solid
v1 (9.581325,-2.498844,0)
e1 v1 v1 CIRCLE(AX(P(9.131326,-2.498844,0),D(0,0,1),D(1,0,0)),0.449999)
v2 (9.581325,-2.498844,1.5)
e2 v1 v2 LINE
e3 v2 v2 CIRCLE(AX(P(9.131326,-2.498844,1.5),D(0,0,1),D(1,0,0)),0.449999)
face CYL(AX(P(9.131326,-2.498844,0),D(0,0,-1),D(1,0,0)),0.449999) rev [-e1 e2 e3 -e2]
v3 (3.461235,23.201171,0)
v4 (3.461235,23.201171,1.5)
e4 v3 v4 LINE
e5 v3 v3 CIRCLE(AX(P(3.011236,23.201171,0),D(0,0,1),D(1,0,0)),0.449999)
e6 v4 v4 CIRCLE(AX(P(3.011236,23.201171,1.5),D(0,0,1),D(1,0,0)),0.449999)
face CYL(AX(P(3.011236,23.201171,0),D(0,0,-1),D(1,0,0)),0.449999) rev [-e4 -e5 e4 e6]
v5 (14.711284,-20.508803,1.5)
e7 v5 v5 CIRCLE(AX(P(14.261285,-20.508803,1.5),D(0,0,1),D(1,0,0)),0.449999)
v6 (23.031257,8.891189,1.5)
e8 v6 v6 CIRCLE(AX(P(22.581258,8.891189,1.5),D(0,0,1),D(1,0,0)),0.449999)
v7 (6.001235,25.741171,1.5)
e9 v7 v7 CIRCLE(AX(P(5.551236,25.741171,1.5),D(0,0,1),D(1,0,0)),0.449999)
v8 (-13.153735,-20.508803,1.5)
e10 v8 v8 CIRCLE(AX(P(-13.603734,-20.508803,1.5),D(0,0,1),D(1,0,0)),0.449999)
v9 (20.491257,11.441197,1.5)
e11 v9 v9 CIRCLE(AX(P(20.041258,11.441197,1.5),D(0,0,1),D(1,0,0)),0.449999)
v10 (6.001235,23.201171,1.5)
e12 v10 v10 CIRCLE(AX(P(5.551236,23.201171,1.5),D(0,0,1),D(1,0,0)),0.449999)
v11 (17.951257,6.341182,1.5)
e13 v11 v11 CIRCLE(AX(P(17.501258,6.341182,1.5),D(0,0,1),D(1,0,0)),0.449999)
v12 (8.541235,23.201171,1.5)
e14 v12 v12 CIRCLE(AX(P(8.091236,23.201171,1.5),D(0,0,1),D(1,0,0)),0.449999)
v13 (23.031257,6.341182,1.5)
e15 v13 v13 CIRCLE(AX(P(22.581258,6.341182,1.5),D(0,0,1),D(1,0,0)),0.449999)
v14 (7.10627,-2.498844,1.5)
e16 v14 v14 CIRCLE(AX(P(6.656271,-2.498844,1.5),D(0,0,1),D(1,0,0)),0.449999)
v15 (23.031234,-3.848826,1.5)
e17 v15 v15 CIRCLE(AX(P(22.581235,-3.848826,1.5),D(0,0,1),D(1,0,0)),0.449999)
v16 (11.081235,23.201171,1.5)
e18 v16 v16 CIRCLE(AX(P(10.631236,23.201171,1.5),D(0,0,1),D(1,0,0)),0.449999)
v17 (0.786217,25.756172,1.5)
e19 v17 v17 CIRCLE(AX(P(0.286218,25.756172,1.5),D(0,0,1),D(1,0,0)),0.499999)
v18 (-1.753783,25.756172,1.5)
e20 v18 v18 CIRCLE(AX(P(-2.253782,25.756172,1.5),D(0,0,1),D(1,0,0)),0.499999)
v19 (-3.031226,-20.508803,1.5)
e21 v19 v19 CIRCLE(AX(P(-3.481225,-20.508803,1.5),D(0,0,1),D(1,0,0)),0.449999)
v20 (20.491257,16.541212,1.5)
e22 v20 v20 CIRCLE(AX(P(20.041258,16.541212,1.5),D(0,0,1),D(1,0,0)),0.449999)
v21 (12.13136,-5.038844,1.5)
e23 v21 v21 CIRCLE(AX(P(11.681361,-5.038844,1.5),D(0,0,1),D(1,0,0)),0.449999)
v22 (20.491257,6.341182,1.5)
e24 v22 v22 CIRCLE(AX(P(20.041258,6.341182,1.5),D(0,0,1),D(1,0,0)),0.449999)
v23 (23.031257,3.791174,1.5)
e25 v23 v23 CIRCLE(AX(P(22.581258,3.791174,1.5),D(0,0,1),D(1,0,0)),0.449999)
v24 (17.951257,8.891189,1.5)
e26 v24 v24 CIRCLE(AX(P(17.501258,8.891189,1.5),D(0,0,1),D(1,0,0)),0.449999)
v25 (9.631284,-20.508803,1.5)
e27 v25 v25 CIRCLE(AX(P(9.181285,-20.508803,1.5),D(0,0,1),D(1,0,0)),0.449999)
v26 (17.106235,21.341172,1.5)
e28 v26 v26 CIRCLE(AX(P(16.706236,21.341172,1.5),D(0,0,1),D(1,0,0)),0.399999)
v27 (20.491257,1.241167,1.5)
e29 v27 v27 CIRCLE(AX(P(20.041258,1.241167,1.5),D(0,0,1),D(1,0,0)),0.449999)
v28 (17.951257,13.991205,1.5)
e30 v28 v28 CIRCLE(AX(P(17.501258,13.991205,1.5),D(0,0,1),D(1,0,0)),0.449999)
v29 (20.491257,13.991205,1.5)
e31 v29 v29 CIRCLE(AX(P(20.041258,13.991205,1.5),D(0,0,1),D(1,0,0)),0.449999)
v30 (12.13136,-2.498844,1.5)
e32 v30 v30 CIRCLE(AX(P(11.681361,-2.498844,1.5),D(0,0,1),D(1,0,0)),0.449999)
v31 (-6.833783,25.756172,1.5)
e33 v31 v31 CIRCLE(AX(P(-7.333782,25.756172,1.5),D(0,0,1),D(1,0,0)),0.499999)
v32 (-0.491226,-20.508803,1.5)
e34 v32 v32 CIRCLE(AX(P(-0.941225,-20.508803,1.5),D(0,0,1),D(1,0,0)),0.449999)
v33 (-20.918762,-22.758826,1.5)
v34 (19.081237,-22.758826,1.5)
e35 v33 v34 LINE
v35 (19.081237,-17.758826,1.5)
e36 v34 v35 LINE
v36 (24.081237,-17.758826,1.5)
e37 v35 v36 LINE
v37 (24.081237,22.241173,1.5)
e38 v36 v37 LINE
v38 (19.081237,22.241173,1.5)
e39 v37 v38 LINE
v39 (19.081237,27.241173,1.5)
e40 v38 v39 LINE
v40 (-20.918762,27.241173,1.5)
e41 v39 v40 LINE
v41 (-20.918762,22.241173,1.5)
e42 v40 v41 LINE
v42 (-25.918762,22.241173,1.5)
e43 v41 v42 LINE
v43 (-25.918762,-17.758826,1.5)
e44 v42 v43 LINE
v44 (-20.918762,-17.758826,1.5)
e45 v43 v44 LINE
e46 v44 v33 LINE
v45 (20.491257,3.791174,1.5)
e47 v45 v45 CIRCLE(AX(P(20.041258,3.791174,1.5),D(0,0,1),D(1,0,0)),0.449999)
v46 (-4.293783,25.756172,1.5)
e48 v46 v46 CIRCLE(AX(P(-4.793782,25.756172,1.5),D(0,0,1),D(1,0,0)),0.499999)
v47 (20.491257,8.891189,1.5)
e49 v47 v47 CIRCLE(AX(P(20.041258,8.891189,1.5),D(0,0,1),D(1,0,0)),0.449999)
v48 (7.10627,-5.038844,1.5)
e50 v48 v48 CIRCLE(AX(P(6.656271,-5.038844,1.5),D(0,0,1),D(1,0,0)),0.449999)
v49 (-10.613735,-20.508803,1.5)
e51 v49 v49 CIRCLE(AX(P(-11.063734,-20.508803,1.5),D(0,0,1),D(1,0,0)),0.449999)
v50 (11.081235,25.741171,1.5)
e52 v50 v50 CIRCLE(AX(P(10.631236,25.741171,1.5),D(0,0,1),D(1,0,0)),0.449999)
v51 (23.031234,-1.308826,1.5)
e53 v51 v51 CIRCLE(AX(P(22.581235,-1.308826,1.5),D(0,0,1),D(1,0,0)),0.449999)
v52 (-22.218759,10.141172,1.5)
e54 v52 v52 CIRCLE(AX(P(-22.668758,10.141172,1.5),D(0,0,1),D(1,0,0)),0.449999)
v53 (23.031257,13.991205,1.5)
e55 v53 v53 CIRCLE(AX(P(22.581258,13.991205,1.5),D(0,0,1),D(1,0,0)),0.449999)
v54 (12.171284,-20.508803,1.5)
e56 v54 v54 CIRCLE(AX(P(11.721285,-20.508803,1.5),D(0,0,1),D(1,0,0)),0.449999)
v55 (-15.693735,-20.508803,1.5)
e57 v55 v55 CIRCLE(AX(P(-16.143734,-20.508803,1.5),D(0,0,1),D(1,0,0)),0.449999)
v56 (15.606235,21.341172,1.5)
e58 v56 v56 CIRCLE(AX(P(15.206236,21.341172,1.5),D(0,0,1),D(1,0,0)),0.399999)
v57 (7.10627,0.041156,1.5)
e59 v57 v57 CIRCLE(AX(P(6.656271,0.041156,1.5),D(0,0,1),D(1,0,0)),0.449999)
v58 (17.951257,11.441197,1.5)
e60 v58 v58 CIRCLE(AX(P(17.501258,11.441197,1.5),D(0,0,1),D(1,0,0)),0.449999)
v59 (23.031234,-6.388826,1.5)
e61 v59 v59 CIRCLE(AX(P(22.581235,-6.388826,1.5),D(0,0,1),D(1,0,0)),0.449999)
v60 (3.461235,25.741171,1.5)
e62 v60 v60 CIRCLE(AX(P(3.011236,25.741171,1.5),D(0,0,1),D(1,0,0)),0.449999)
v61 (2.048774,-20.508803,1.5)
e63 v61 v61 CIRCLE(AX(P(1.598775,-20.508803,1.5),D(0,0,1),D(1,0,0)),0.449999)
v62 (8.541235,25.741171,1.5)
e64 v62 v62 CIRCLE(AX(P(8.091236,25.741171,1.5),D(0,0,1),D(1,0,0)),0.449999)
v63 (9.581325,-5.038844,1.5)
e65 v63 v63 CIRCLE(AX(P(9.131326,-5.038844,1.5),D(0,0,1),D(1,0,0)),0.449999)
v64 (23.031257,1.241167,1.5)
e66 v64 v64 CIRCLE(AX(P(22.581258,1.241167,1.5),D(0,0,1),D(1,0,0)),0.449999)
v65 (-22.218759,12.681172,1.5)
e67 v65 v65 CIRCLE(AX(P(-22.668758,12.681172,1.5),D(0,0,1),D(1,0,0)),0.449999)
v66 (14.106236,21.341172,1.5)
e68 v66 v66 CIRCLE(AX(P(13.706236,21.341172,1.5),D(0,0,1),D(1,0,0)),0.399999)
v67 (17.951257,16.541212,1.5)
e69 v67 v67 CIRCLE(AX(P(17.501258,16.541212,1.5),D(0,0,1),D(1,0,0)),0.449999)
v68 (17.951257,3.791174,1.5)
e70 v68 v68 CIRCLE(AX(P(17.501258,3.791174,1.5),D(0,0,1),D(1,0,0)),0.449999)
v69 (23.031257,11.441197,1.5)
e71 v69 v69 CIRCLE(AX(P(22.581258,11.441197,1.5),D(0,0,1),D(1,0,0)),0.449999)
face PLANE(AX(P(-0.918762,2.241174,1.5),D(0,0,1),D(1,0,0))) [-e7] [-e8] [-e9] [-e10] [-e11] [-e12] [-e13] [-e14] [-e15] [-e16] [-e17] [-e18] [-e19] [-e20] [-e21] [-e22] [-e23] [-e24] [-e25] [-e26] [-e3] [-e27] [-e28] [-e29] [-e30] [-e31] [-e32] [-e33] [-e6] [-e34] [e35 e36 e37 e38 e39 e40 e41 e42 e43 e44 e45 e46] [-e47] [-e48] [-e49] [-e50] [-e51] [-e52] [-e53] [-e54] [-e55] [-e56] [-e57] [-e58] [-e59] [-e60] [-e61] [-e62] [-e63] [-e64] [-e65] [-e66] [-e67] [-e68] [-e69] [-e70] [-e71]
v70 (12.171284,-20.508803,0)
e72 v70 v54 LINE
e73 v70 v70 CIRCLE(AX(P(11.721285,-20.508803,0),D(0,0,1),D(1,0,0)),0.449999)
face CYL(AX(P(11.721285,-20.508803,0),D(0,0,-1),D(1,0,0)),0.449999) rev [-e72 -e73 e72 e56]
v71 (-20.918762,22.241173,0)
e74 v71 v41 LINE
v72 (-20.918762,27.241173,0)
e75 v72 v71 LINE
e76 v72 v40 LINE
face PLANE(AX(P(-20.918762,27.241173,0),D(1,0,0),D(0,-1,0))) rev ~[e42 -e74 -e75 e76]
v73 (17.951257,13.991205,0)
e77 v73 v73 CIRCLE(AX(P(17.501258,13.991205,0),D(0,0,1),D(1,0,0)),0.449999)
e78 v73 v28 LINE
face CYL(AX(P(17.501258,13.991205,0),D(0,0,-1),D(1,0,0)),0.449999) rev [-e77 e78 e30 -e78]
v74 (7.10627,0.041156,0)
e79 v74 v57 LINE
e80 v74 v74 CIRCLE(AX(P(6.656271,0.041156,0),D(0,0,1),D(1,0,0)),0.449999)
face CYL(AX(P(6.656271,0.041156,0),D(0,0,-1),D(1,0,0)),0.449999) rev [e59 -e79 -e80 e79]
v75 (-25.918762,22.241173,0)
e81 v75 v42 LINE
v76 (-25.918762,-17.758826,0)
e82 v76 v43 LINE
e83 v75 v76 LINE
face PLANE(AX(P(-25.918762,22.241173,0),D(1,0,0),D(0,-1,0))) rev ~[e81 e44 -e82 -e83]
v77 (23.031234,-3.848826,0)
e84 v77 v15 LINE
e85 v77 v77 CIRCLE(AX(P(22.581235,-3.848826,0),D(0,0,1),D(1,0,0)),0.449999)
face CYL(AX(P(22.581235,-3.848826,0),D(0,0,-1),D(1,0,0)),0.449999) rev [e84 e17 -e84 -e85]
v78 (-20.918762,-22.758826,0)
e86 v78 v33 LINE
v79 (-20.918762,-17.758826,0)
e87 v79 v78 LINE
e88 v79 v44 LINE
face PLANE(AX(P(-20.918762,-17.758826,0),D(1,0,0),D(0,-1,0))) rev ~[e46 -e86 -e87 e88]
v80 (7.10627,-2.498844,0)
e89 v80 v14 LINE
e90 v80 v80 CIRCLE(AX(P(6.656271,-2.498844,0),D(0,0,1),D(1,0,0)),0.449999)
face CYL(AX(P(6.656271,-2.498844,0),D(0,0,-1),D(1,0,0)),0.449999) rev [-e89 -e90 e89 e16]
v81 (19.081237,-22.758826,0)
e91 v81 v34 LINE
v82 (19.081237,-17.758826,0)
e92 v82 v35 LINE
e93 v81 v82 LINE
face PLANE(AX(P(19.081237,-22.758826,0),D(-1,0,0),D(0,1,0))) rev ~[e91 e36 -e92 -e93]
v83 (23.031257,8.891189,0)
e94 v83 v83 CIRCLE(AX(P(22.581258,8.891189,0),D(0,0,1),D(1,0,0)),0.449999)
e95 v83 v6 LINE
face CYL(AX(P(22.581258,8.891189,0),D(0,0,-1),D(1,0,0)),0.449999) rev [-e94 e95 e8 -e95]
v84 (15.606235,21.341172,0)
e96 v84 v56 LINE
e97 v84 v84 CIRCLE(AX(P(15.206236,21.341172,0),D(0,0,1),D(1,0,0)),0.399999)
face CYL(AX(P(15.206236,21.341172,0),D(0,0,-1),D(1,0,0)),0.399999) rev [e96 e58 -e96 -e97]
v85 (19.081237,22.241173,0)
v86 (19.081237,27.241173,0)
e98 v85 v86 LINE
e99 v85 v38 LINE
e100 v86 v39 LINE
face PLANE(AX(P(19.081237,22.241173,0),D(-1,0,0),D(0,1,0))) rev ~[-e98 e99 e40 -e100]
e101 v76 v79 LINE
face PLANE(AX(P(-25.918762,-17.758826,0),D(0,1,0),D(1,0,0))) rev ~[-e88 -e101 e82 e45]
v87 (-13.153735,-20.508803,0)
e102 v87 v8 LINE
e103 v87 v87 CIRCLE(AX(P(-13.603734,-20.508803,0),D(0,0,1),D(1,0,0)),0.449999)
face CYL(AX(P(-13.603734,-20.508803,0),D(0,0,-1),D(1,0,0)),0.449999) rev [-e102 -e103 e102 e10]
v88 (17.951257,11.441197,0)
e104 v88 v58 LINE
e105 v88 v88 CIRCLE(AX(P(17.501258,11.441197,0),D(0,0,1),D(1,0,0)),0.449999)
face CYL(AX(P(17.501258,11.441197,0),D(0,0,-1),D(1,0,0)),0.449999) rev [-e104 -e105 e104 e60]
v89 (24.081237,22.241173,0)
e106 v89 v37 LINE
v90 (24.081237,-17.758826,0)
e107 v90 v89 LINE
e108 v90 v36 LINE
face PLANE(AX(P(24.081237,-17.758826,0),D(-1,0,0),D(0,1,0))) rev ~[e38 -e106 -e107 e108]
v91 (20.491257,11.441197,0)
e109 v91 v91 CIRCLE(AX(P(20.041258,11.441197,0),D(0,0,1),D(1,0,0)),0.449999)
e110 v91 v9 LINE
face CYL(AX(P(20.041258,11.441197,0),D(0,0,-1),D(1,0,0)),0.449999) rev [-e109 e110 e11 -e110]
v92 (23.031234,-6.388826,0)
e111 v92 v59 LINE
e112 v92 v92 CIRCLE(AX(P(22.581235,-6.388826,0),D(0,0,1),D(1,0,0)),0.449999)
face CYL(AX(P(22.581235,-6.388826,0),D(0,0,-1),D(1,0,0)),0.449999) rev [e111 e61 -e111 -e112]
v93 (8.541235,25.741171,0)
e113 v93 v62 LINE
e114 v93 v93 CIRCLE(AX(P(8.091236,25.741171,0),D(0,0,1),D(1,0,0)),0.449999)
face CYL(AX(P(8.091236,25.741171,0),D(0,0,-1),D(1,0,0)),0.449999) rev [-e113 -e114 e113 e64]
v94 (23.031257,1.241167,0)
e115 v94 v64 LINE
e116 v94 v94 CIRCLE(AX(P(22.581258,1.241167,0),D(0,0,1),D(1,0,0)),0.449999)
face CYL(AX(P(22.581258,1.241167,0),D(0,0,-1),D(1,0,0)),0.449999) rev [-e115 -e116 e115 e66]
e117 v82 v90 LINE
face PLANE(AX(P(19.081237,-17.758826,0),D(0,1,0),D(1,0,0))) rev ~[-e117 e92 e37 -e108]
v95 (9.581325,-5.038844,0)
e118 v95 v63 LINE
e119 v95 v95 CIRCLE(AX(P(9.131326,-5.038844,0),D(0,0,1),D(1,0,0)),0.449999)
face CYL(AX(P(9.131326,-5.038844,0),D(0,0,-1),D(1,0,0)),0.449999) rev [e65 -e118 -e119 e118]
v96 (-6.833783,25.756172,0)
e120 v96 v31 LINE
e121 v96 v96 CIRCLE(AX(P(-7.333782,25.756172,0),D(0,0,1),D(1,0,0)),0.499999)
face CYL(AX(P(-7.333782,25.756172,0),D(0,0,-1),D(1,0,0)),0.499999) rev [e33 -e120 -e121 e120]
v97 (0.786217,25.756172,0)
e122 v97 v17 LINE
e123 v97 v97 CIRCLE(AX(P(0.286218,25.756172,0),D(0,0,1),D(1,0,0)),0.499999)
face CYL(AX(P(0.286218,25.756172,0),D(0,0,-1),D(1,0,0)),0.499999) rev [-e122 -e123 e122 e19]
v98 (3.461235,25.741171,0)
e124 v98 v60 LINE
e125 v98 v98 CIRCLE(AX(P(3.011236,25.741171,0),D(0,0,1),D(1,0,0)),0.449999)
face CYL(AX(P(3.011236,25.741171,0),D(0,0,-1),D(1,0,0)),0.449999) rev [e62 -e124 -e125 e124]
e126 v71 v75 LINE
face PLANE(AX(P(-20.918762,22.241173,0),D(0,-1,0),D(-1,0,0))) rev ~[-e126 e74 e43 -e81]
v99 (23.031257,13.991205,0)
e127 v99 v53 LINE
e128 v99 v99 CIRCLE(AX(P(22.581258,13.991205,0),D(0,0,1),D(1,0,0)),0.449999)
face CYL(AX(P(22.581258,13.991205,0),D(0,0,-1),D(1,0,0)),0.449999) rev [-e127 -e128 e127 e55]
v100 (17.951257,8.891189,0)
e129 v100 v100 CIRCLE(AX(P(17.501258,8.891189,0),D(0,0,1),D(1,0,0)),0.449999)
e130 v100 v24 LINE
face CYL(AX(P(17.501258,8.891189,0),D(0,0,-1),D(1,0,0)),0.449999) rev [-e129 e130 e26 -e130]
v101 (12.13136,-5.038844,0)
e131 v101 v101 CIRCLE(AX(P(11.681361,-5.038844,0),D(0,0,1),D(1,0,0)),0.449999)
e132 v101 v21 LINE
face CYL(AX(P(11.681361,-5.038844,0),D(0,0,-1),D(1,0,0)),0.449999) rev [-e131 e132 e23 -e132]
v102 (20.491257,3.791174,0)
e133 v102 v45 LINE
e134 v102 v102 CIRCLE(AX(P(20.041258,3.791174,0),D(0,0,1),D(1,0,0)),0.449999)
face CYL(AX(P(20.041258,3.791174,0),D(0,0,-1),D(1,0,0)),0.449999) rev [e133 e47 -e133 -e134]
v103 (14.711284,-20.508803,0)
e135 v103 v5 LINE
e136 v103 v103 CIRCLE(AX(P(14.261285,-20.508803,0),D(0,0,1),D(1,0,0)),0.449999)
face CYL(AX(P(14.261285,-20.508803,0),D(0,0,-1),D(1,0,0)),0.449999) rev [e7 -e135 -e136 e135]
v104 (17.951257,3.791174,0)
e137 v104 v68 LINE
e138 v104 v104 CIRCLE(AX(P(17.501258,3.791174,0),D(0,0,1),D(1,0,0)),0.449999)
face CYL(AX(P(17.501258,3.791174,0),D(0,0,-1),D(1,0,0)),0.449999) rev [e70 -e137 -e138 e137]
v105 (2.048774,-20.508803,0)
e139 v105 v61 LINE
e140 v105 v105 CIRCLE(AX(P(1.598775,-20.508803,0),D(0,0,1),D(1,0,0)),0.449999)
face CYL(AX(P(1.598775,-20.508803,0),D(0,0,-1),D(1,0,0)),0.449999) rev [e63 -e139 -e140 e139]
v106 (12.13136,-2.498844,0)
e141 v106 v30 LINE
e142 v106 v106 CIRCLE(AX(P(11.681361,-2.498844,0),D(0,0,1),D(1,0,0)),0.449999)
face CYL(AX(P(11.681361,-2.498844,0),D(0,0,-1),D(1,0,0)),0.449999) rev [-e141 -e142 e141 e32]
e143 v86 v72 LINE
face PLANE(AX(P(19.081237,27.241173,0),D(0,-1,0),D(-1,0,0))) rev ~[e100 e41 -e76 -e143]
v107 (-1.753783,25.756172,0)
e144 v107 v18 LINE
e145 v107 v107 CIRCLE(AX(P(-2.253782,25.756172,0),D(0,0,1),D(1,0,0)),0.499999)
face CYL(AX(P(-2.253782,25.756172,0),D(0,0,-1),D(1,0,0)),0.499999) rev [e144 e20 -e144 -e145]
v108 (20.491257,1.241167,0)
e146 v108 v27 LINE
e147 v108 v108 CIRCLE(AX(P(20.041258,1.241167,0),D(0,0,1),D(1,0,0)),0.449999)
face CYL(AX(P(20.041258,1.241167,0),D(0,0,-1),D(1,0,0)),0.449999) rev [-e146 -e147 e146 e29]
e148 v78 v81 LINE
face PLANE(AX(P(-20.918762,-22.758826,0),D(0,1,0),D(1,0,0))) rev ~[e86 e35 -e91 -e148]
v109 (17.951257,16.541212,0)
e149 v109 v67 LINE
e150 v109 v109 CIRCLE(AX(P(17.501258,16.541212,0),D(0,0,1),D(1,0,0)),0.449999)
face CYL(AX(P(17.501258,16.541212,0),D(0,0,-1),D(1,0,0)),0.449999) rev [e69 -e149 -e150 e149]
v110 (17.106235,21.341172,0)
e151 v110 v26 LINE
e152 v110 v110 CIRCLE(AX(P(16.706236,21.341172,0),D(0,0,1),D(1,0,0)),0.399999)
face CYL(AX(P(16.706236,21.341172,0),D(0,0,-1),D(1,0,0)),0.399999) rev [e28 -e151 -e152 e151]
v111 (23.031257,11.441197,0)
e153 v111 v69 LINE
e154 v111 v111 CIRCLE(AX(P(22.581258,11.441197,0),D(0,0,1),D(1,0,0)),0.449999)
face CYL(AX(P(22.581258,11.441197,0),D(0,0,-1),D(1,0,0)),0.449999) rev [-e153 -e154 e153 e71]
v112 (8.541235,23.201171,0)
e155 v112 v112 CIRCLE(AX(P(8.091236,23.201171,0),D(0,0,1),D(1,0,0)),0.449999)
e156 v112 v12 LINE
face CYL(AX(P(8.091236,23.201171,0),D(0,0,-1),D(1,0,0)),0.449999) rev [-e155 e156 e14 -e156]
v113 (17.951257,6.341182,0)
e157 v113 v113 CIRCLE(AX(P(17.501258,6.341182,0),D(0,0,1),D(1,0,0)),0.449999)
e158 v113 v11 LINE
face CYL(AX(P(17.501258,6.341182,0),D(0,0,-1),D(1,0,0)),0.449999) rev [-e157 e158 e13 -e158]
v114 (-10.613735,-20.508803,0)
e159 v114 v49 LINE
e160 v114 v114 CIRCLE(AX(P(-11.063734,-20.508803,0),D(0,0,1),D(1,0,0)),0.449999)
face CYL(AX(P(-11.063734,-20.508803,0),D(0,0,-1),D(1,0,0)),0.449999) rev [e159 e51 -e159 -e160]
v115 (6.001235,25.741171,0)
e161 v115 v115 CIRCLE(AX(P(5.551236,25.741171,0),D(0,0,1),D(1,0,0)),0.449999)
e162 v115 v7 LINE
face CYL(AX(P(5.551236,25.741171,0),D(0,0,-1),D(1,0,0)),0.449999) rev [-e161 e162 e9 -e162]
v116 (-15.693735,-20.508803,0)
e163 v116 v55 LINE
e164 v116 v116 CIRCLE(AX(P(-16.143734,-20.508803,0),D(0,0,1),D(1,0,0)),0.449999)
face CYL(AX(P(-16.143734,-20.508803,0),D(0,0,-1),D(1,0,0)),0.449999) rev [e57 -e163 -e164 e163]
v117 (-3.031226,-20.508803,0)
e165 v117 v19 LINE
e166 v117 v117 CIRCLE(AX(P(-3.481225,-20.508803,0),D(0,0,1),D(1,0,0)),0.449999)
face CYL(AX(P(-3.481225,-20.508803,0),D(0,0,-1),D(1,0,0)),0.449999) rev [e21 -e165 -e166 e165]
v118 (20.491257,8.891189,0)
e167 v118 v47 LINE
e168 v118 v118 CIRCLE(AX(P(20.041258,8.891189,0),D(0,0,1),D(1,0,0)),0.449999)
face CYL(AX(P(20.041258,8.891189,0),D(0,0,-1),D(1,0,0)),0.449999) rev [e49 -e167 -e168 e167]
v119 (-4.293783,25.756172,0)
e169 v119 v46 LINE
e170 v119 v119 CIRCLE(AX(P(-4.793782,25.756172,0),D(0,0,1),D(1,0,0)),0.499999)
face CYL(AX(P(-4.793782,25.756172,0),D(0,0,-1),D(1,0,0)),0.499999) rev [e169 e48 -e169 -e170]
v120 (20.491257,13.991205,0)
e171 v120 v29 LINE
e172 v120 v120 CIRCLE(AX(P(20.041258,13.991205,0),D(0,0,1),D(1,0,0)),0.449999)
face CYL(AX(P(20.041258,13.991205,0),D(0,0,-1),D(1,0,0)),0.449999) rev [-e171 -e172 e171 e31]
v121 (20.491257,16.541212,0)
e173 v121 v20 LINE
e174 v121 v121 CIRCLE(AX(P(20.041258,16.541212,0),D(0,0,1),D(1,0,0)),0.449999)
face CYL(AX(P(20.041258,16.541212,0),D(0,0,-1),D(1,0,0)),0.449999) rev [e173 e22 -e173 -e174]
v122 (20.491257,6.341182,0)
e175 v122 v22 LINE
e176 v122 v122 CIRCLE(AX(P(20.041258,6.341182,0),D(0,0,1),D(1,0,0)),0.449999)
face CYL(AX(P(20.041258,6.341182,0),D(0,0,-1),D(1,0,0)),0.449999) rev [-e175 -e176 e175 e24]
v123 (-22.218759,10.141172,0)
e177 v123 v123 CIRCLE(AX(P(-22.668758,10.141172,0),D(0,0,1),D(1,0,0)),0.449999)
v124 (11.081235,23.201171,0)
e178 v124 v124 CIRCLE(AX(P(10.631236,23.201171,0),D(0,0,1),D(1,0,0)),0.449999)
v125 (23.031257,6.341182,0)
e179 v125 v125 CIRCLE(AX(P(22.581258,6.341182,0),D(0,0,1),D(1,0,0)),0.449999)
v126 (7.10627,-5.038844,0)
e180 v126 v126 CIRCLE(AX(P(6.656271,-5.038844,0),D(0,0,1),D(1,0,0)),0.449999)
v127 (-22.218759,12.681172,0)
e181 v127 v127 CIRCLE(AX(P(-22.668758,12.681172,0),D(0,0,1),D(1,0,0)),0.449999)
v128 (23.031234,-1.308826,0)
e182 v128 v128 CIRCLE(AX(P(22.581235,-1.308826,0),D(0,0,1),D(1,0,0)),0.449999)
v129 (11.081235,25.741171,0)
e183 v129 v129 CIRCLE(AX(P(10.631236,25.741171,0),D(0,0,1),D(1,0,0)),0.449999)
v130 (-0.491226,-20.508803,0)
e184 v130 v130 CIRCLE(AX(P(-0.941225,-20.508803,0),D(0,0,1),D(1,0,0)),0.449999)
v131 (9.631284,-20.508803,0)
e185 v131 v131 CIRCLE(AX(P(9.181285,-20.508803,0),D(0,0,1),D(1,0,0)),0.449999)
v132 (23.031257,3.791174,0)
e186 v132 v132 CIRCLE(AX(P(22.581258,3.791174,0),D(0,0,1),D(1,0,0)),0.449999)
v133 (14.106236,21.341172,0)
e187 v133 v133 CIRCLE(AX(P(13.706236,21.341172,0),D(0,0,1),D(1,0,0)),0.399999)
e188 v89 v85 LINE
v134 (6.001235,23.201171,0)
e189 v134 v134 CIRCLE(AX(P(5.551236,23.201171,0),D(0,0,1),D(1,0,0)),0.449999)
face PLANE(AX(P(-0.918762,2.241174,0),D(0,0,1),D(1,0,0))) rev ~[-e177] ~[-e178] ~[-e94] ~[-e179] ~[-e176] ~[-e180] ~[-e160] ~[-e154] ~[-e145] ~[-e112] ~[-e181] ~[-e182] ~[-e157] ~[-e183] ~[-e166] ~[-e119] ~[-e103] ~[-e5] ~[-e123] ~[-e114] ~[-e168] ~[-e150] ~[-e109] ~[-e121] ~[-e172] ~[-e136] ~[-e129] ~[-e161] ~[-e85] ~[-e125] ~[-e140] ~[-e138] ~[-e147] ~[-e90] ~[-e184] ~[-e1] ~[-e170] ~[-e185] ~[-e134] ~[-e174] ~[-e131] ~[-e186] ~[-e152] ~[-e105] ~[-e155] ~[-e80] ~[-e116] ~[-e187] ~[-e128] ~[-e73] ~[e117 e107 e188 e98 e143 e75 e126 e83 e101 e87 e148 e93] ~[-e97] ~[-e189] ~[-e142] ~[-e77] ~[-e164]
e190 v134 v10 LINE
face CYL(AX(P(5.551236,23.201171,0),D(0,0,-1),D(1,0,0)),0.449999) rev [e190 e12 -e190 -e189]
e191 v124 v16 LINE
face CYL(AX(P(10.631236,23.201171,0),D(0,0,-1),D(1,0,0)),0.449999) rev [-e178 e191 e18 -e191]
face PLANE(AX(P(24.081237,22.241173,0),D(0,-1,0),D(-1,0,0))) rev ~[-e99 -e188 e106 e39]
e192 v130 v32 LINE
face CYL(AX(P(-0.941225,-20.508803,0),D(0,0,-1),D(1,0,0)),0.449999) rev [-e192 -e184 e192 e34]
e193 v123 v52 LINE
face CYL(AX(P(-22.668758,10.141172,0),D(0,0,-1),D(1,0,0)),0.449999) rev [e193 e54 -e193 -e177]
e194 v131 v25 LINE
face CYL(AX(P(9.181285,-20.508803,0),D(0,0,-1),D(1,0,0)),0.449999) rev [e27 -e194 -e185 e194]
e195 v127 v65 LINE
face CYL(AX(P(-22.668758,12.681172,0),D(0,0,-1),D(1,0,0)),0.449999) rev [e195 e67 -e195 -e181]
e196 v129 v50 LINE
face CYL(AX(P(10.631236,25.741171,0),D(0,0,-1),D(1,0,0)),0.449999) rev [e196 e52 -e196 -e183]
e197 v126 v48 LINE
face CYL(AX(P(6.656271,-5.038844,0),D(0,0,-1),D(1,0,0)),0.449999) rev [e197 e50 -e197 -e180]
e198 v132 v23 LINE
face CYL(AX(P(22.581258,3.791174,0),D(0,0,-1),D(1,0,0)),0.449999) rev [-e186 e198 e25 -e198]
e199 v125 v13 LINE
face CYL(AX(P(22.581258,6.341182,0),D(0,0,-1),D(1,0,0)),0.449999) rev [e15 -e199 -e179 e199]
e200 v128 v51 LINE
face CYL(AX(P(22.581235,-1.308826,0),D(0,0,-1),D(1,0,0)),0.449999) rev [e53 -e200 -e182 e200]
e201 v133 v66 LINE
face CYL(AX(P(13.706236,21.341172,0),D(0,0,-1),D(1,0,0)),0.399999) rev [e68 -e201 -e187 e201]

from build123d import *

# Parameters (mm, degrees)
SKETCH_3_R      = 0.4499991
SKETCH_3_R_2    = 0.3999992
SKETCH_3_R_3    = 0.499999
EXTRUDE_1_DEPTH = 1.5


with BuildPart() as part:
    # Эскиз3 → Бобышка-Вытянуть1 (new body)
    with BuildSketch(Plane.XY):
        Polygon((24.081237265, -17.758826004), (24.081237265, 22.241173056), (19.081237265, 22.241173056), (19.081237265, 27.241173056), (-20.918761795, 27.241173056), (-20.918761795, 22.241173056), (-25.918761795, 22.241173056), (-25.918761795, -17.758826004), (-20.918761795, -17.758826004), (-20.918761795, -22.758826004), (19.081237265, -22.758826004), (19.081237265, -17.758826004), align=None)
        with Locations((22.581258045, 1.241166636)):
            Circle(SKETCH_3_R, mode=Mode.SUBTRACT)
        with Locations((22.581258045, 3.791174236)):
            Circle(SKETCH_3_R, mode=Mode.SUBTRACT)
        with Locations((22.581258045, 6.341181836)):
            Circle(SKETCH_3_R, mode=Mode.SUBTRACT)
        with Locations((22.581258045, 8.891189436)):
            Circle(SKETCH_3_R, mode=Mode.SUBTRACT)
        with Locations((22.581258045, 11.441197036)):
            Circle(SKETCH_3_R, mode=Mode.SUBTRACT)
        with Locations((22.581258045, 13.991204636)):
            Circle(SKETCH_3_R, mode=Mode.SUBTRACT)
        with Locations((17.501258045, 3.791174236)):
            Circle(SKETCH_3_R, mode=Mode.SUBTRACT)
        with Locations((17.501258045, 6.341181836)):
            Circle(SKETCH_3_R, mode=Mode.SUBTRACT)
        with Locations((17.501258045, 8.891189436)):
            Circle(SKETCH_3_R, mode=Mode.SUBTRACT)
        with Locations((17.501258045, 11.441197036)):
            Circle(SKETCH_3_R, mode=Mode.SUBTRACT)
        with Locations((17.501258045, 13.991204636)):
            Circle(SKETCH_3_R, mode=Mode.SUBTRACT)
        with Locations((17.501258045, 16.541212236)):
            Circle(SKETCH_3_R, mode=Mode.SUBTRACT)
        with Locations((20.041258045, 16.541212236)):
            Circle(SKETCH_3_R, mode=Mode.SUBTRACT)
        with Locations((20.041258045, 13.991204636)):
            Circle(SKETCH_3_R, mode=Mode.SUBTRACT)
        with Locations((20.041258045, 11.441197036)):
            Circle(SKETCH_3_R, mode=Mode.SUBTRACT)
        with Locations((20.041258045, 8.891189436)):
            Circle(SKETCH_3_R, mode=Mode.SUBTRACT)
        with Locations((20.041258045, 6.341181836)):
            Circle(SKETCH_3_R, mode=Mode.SUBTRACT)
        with Locations((20.041258045, 3.791174236)):
            Circle(SKETCH_3_R, mode=Mode.SUBTRACT)
        with Locations((20.041258045, 1.241166636)):
            Circle(SKETCH_3_R, mode=Mode.SUBTRACT)
        with Locations((22.581235185, -6.388825724)):
            Circle(SKETCH_3_R, mode=Mode.SUBTRACT)
        with Locations((22.581235185, -3.848825724)):
            Circle(SKETCH_3_R, mode=Mode.SUBTRACT)
        with Locations((22.581235185, -1.308825724)):
            Circle(SKETCH_3_R, mode=Mode.SUBTRACT)
        with Locations((3.011236225, 25.741170976)):
            Circle(SKETCH_3_R, mode=Mode.SUBTRACT)
        with Locations((5.551236225, 23.201170976)):
            Circle(SKETCH_3_R, mode=Mode.SUBTRACT)
        with Locations((5.551236225, 25.741170976)):
            Circle(SKETCH_3_R, mode=Mode.SUBTRACT)
        with Locations((8.091236225, 23.201170976)):
            Circle(SKETCH_3_R, mode=Mode.SUBTRACT)
        with Locations((8.091236225, 25.741170976)):
            Circle(SKETCH_3_R, mode=Mode.SUBTRACT)
        with Locations((10.631236225, 25.741170976)):
            Circle(SKETCH_3_R, mode=Mode.SUBTRACT)
        with Locations((10.631236225, 23.201170976)):
            Circle(SKETCH_3_R, mode=Mode.SUBTRACT)
        with Locations((13.706236425, 21.341172156)):
            Circle(SKETCH_3_R_2, mode=Mode.SUBTRACT)
        with Locations((15.206235965, 21.341172156)):
            Circle(SKETCH_3_R_2, mode=Mode.SUBTRACT)
        with Locations((16.706235505, 21.341172156)):
            Circle(SKETCH_3_R_2, mode=Mode.SUBTRACT)
        with Locations((6.656270845, 0.041156336)):
            Circle(SKETCH_3_R, mode=Mode.SUBTRACT)
        with Locations((6.656270845, -5.038843664)):
            Circle(SKETCH_3_R, mode=Mode.SUBTRACT)
        with Locations((6.656270845, -2.498843664)):
            Circle(SKETCH_3_R, mode=Mode.SUBTRACT)
        with Locations((9.131325585, -2.498843664)):
            Circle(SKETCH_3_R, mode=Mode.SUBTRACT)
        with Locations((9.131325585, -5.038843664)):
            Circle(SKETCH_3_R, mode=Mode.SUBTRACT)
        with Locations((11.681361125, -2.498843664)):
            Circle(SKETCH_3_R, mode=Mode.SUBTRACT)
        with Locations((14.261284845, -20.508802564)):
            Circle(SKETCH_3_R, mode=Mode.SUBTRACT)
        with Locations((11.721284845, -20.508802564)):
            Circle(SKETCH_3_R, mode=Mode.SUBTRACT)
        with Locations((9.181284845, -20.508802564)):
            Circle(SKETCH_3_R, mode=Mode.SUBTRACT)
        with Locations((1.598775245, -20.508802564)):
            Circle(SKETCH_3_R, mode=Mode.SUBTRACT)
        with Locations((-0.941224755, -20.508802564)):
            Circle(SKETCH_3_R, mode=Mode.SUBTRACT)
        with Locations((-3.481224755, -20.508802564)):
            Circle(SKETCH_3_R, mode=Mode.SUBTRACT)
        with Locations((-11.063734355, -20.508802564)):
            Circle(SKETCH_3_R, mode=Mode.SUBTRACT)
        with Locations((-13.603734355, -20.508802564)):
            Circle(SKETCH_3_R, mode=Mode.SUBTRACT)
        with Locations((-16.143734355, -20.508802564)):
            Circle(SKETCH_3_R, mode=Mode.SUBTRACT)
        with Locations((-22.668758135, 10.141171696)):
            Circle(SKETCH_3_R, mode=Mode.SUBTRACT)
        with Locations((-22.668758135, 12.681171696)):
            Circle(SKETCH_3_R, mode=Mode.SUBTRACT)
        with Locations((-7.333782455, 25.756172216)):
            Circle(SKETCH_3_R_3, mode=Mode.SUBTRACT)
        with Locations((-4.793782455, 25.756172216)):
            Circle(SKETCH_3_R_3, mode=Mode.SUBTRACT)
        with Locations((-2.253782455, 25.756172216)):
            Circle(SKETCH_3_R_3, mode=Mode.SUBTRACT)
        with Locations((0.286217545, 25.756172216)):
            Circle(SKETCH_3_R_3, mode=Mode.SUBTRACT)
        with Locations((3.011236225, 23.201170976)):
            Circle(SKETCH_3_R, mode=Mode.SUBTRACT)
        with Locations((11.681361125, -5.038843664)):
            Circle(SKETCH_3_R, mode=Mode.SUBTRACT)
    extrude(amount=EXTRUDE_1_DEPTH)


solid = part.part
